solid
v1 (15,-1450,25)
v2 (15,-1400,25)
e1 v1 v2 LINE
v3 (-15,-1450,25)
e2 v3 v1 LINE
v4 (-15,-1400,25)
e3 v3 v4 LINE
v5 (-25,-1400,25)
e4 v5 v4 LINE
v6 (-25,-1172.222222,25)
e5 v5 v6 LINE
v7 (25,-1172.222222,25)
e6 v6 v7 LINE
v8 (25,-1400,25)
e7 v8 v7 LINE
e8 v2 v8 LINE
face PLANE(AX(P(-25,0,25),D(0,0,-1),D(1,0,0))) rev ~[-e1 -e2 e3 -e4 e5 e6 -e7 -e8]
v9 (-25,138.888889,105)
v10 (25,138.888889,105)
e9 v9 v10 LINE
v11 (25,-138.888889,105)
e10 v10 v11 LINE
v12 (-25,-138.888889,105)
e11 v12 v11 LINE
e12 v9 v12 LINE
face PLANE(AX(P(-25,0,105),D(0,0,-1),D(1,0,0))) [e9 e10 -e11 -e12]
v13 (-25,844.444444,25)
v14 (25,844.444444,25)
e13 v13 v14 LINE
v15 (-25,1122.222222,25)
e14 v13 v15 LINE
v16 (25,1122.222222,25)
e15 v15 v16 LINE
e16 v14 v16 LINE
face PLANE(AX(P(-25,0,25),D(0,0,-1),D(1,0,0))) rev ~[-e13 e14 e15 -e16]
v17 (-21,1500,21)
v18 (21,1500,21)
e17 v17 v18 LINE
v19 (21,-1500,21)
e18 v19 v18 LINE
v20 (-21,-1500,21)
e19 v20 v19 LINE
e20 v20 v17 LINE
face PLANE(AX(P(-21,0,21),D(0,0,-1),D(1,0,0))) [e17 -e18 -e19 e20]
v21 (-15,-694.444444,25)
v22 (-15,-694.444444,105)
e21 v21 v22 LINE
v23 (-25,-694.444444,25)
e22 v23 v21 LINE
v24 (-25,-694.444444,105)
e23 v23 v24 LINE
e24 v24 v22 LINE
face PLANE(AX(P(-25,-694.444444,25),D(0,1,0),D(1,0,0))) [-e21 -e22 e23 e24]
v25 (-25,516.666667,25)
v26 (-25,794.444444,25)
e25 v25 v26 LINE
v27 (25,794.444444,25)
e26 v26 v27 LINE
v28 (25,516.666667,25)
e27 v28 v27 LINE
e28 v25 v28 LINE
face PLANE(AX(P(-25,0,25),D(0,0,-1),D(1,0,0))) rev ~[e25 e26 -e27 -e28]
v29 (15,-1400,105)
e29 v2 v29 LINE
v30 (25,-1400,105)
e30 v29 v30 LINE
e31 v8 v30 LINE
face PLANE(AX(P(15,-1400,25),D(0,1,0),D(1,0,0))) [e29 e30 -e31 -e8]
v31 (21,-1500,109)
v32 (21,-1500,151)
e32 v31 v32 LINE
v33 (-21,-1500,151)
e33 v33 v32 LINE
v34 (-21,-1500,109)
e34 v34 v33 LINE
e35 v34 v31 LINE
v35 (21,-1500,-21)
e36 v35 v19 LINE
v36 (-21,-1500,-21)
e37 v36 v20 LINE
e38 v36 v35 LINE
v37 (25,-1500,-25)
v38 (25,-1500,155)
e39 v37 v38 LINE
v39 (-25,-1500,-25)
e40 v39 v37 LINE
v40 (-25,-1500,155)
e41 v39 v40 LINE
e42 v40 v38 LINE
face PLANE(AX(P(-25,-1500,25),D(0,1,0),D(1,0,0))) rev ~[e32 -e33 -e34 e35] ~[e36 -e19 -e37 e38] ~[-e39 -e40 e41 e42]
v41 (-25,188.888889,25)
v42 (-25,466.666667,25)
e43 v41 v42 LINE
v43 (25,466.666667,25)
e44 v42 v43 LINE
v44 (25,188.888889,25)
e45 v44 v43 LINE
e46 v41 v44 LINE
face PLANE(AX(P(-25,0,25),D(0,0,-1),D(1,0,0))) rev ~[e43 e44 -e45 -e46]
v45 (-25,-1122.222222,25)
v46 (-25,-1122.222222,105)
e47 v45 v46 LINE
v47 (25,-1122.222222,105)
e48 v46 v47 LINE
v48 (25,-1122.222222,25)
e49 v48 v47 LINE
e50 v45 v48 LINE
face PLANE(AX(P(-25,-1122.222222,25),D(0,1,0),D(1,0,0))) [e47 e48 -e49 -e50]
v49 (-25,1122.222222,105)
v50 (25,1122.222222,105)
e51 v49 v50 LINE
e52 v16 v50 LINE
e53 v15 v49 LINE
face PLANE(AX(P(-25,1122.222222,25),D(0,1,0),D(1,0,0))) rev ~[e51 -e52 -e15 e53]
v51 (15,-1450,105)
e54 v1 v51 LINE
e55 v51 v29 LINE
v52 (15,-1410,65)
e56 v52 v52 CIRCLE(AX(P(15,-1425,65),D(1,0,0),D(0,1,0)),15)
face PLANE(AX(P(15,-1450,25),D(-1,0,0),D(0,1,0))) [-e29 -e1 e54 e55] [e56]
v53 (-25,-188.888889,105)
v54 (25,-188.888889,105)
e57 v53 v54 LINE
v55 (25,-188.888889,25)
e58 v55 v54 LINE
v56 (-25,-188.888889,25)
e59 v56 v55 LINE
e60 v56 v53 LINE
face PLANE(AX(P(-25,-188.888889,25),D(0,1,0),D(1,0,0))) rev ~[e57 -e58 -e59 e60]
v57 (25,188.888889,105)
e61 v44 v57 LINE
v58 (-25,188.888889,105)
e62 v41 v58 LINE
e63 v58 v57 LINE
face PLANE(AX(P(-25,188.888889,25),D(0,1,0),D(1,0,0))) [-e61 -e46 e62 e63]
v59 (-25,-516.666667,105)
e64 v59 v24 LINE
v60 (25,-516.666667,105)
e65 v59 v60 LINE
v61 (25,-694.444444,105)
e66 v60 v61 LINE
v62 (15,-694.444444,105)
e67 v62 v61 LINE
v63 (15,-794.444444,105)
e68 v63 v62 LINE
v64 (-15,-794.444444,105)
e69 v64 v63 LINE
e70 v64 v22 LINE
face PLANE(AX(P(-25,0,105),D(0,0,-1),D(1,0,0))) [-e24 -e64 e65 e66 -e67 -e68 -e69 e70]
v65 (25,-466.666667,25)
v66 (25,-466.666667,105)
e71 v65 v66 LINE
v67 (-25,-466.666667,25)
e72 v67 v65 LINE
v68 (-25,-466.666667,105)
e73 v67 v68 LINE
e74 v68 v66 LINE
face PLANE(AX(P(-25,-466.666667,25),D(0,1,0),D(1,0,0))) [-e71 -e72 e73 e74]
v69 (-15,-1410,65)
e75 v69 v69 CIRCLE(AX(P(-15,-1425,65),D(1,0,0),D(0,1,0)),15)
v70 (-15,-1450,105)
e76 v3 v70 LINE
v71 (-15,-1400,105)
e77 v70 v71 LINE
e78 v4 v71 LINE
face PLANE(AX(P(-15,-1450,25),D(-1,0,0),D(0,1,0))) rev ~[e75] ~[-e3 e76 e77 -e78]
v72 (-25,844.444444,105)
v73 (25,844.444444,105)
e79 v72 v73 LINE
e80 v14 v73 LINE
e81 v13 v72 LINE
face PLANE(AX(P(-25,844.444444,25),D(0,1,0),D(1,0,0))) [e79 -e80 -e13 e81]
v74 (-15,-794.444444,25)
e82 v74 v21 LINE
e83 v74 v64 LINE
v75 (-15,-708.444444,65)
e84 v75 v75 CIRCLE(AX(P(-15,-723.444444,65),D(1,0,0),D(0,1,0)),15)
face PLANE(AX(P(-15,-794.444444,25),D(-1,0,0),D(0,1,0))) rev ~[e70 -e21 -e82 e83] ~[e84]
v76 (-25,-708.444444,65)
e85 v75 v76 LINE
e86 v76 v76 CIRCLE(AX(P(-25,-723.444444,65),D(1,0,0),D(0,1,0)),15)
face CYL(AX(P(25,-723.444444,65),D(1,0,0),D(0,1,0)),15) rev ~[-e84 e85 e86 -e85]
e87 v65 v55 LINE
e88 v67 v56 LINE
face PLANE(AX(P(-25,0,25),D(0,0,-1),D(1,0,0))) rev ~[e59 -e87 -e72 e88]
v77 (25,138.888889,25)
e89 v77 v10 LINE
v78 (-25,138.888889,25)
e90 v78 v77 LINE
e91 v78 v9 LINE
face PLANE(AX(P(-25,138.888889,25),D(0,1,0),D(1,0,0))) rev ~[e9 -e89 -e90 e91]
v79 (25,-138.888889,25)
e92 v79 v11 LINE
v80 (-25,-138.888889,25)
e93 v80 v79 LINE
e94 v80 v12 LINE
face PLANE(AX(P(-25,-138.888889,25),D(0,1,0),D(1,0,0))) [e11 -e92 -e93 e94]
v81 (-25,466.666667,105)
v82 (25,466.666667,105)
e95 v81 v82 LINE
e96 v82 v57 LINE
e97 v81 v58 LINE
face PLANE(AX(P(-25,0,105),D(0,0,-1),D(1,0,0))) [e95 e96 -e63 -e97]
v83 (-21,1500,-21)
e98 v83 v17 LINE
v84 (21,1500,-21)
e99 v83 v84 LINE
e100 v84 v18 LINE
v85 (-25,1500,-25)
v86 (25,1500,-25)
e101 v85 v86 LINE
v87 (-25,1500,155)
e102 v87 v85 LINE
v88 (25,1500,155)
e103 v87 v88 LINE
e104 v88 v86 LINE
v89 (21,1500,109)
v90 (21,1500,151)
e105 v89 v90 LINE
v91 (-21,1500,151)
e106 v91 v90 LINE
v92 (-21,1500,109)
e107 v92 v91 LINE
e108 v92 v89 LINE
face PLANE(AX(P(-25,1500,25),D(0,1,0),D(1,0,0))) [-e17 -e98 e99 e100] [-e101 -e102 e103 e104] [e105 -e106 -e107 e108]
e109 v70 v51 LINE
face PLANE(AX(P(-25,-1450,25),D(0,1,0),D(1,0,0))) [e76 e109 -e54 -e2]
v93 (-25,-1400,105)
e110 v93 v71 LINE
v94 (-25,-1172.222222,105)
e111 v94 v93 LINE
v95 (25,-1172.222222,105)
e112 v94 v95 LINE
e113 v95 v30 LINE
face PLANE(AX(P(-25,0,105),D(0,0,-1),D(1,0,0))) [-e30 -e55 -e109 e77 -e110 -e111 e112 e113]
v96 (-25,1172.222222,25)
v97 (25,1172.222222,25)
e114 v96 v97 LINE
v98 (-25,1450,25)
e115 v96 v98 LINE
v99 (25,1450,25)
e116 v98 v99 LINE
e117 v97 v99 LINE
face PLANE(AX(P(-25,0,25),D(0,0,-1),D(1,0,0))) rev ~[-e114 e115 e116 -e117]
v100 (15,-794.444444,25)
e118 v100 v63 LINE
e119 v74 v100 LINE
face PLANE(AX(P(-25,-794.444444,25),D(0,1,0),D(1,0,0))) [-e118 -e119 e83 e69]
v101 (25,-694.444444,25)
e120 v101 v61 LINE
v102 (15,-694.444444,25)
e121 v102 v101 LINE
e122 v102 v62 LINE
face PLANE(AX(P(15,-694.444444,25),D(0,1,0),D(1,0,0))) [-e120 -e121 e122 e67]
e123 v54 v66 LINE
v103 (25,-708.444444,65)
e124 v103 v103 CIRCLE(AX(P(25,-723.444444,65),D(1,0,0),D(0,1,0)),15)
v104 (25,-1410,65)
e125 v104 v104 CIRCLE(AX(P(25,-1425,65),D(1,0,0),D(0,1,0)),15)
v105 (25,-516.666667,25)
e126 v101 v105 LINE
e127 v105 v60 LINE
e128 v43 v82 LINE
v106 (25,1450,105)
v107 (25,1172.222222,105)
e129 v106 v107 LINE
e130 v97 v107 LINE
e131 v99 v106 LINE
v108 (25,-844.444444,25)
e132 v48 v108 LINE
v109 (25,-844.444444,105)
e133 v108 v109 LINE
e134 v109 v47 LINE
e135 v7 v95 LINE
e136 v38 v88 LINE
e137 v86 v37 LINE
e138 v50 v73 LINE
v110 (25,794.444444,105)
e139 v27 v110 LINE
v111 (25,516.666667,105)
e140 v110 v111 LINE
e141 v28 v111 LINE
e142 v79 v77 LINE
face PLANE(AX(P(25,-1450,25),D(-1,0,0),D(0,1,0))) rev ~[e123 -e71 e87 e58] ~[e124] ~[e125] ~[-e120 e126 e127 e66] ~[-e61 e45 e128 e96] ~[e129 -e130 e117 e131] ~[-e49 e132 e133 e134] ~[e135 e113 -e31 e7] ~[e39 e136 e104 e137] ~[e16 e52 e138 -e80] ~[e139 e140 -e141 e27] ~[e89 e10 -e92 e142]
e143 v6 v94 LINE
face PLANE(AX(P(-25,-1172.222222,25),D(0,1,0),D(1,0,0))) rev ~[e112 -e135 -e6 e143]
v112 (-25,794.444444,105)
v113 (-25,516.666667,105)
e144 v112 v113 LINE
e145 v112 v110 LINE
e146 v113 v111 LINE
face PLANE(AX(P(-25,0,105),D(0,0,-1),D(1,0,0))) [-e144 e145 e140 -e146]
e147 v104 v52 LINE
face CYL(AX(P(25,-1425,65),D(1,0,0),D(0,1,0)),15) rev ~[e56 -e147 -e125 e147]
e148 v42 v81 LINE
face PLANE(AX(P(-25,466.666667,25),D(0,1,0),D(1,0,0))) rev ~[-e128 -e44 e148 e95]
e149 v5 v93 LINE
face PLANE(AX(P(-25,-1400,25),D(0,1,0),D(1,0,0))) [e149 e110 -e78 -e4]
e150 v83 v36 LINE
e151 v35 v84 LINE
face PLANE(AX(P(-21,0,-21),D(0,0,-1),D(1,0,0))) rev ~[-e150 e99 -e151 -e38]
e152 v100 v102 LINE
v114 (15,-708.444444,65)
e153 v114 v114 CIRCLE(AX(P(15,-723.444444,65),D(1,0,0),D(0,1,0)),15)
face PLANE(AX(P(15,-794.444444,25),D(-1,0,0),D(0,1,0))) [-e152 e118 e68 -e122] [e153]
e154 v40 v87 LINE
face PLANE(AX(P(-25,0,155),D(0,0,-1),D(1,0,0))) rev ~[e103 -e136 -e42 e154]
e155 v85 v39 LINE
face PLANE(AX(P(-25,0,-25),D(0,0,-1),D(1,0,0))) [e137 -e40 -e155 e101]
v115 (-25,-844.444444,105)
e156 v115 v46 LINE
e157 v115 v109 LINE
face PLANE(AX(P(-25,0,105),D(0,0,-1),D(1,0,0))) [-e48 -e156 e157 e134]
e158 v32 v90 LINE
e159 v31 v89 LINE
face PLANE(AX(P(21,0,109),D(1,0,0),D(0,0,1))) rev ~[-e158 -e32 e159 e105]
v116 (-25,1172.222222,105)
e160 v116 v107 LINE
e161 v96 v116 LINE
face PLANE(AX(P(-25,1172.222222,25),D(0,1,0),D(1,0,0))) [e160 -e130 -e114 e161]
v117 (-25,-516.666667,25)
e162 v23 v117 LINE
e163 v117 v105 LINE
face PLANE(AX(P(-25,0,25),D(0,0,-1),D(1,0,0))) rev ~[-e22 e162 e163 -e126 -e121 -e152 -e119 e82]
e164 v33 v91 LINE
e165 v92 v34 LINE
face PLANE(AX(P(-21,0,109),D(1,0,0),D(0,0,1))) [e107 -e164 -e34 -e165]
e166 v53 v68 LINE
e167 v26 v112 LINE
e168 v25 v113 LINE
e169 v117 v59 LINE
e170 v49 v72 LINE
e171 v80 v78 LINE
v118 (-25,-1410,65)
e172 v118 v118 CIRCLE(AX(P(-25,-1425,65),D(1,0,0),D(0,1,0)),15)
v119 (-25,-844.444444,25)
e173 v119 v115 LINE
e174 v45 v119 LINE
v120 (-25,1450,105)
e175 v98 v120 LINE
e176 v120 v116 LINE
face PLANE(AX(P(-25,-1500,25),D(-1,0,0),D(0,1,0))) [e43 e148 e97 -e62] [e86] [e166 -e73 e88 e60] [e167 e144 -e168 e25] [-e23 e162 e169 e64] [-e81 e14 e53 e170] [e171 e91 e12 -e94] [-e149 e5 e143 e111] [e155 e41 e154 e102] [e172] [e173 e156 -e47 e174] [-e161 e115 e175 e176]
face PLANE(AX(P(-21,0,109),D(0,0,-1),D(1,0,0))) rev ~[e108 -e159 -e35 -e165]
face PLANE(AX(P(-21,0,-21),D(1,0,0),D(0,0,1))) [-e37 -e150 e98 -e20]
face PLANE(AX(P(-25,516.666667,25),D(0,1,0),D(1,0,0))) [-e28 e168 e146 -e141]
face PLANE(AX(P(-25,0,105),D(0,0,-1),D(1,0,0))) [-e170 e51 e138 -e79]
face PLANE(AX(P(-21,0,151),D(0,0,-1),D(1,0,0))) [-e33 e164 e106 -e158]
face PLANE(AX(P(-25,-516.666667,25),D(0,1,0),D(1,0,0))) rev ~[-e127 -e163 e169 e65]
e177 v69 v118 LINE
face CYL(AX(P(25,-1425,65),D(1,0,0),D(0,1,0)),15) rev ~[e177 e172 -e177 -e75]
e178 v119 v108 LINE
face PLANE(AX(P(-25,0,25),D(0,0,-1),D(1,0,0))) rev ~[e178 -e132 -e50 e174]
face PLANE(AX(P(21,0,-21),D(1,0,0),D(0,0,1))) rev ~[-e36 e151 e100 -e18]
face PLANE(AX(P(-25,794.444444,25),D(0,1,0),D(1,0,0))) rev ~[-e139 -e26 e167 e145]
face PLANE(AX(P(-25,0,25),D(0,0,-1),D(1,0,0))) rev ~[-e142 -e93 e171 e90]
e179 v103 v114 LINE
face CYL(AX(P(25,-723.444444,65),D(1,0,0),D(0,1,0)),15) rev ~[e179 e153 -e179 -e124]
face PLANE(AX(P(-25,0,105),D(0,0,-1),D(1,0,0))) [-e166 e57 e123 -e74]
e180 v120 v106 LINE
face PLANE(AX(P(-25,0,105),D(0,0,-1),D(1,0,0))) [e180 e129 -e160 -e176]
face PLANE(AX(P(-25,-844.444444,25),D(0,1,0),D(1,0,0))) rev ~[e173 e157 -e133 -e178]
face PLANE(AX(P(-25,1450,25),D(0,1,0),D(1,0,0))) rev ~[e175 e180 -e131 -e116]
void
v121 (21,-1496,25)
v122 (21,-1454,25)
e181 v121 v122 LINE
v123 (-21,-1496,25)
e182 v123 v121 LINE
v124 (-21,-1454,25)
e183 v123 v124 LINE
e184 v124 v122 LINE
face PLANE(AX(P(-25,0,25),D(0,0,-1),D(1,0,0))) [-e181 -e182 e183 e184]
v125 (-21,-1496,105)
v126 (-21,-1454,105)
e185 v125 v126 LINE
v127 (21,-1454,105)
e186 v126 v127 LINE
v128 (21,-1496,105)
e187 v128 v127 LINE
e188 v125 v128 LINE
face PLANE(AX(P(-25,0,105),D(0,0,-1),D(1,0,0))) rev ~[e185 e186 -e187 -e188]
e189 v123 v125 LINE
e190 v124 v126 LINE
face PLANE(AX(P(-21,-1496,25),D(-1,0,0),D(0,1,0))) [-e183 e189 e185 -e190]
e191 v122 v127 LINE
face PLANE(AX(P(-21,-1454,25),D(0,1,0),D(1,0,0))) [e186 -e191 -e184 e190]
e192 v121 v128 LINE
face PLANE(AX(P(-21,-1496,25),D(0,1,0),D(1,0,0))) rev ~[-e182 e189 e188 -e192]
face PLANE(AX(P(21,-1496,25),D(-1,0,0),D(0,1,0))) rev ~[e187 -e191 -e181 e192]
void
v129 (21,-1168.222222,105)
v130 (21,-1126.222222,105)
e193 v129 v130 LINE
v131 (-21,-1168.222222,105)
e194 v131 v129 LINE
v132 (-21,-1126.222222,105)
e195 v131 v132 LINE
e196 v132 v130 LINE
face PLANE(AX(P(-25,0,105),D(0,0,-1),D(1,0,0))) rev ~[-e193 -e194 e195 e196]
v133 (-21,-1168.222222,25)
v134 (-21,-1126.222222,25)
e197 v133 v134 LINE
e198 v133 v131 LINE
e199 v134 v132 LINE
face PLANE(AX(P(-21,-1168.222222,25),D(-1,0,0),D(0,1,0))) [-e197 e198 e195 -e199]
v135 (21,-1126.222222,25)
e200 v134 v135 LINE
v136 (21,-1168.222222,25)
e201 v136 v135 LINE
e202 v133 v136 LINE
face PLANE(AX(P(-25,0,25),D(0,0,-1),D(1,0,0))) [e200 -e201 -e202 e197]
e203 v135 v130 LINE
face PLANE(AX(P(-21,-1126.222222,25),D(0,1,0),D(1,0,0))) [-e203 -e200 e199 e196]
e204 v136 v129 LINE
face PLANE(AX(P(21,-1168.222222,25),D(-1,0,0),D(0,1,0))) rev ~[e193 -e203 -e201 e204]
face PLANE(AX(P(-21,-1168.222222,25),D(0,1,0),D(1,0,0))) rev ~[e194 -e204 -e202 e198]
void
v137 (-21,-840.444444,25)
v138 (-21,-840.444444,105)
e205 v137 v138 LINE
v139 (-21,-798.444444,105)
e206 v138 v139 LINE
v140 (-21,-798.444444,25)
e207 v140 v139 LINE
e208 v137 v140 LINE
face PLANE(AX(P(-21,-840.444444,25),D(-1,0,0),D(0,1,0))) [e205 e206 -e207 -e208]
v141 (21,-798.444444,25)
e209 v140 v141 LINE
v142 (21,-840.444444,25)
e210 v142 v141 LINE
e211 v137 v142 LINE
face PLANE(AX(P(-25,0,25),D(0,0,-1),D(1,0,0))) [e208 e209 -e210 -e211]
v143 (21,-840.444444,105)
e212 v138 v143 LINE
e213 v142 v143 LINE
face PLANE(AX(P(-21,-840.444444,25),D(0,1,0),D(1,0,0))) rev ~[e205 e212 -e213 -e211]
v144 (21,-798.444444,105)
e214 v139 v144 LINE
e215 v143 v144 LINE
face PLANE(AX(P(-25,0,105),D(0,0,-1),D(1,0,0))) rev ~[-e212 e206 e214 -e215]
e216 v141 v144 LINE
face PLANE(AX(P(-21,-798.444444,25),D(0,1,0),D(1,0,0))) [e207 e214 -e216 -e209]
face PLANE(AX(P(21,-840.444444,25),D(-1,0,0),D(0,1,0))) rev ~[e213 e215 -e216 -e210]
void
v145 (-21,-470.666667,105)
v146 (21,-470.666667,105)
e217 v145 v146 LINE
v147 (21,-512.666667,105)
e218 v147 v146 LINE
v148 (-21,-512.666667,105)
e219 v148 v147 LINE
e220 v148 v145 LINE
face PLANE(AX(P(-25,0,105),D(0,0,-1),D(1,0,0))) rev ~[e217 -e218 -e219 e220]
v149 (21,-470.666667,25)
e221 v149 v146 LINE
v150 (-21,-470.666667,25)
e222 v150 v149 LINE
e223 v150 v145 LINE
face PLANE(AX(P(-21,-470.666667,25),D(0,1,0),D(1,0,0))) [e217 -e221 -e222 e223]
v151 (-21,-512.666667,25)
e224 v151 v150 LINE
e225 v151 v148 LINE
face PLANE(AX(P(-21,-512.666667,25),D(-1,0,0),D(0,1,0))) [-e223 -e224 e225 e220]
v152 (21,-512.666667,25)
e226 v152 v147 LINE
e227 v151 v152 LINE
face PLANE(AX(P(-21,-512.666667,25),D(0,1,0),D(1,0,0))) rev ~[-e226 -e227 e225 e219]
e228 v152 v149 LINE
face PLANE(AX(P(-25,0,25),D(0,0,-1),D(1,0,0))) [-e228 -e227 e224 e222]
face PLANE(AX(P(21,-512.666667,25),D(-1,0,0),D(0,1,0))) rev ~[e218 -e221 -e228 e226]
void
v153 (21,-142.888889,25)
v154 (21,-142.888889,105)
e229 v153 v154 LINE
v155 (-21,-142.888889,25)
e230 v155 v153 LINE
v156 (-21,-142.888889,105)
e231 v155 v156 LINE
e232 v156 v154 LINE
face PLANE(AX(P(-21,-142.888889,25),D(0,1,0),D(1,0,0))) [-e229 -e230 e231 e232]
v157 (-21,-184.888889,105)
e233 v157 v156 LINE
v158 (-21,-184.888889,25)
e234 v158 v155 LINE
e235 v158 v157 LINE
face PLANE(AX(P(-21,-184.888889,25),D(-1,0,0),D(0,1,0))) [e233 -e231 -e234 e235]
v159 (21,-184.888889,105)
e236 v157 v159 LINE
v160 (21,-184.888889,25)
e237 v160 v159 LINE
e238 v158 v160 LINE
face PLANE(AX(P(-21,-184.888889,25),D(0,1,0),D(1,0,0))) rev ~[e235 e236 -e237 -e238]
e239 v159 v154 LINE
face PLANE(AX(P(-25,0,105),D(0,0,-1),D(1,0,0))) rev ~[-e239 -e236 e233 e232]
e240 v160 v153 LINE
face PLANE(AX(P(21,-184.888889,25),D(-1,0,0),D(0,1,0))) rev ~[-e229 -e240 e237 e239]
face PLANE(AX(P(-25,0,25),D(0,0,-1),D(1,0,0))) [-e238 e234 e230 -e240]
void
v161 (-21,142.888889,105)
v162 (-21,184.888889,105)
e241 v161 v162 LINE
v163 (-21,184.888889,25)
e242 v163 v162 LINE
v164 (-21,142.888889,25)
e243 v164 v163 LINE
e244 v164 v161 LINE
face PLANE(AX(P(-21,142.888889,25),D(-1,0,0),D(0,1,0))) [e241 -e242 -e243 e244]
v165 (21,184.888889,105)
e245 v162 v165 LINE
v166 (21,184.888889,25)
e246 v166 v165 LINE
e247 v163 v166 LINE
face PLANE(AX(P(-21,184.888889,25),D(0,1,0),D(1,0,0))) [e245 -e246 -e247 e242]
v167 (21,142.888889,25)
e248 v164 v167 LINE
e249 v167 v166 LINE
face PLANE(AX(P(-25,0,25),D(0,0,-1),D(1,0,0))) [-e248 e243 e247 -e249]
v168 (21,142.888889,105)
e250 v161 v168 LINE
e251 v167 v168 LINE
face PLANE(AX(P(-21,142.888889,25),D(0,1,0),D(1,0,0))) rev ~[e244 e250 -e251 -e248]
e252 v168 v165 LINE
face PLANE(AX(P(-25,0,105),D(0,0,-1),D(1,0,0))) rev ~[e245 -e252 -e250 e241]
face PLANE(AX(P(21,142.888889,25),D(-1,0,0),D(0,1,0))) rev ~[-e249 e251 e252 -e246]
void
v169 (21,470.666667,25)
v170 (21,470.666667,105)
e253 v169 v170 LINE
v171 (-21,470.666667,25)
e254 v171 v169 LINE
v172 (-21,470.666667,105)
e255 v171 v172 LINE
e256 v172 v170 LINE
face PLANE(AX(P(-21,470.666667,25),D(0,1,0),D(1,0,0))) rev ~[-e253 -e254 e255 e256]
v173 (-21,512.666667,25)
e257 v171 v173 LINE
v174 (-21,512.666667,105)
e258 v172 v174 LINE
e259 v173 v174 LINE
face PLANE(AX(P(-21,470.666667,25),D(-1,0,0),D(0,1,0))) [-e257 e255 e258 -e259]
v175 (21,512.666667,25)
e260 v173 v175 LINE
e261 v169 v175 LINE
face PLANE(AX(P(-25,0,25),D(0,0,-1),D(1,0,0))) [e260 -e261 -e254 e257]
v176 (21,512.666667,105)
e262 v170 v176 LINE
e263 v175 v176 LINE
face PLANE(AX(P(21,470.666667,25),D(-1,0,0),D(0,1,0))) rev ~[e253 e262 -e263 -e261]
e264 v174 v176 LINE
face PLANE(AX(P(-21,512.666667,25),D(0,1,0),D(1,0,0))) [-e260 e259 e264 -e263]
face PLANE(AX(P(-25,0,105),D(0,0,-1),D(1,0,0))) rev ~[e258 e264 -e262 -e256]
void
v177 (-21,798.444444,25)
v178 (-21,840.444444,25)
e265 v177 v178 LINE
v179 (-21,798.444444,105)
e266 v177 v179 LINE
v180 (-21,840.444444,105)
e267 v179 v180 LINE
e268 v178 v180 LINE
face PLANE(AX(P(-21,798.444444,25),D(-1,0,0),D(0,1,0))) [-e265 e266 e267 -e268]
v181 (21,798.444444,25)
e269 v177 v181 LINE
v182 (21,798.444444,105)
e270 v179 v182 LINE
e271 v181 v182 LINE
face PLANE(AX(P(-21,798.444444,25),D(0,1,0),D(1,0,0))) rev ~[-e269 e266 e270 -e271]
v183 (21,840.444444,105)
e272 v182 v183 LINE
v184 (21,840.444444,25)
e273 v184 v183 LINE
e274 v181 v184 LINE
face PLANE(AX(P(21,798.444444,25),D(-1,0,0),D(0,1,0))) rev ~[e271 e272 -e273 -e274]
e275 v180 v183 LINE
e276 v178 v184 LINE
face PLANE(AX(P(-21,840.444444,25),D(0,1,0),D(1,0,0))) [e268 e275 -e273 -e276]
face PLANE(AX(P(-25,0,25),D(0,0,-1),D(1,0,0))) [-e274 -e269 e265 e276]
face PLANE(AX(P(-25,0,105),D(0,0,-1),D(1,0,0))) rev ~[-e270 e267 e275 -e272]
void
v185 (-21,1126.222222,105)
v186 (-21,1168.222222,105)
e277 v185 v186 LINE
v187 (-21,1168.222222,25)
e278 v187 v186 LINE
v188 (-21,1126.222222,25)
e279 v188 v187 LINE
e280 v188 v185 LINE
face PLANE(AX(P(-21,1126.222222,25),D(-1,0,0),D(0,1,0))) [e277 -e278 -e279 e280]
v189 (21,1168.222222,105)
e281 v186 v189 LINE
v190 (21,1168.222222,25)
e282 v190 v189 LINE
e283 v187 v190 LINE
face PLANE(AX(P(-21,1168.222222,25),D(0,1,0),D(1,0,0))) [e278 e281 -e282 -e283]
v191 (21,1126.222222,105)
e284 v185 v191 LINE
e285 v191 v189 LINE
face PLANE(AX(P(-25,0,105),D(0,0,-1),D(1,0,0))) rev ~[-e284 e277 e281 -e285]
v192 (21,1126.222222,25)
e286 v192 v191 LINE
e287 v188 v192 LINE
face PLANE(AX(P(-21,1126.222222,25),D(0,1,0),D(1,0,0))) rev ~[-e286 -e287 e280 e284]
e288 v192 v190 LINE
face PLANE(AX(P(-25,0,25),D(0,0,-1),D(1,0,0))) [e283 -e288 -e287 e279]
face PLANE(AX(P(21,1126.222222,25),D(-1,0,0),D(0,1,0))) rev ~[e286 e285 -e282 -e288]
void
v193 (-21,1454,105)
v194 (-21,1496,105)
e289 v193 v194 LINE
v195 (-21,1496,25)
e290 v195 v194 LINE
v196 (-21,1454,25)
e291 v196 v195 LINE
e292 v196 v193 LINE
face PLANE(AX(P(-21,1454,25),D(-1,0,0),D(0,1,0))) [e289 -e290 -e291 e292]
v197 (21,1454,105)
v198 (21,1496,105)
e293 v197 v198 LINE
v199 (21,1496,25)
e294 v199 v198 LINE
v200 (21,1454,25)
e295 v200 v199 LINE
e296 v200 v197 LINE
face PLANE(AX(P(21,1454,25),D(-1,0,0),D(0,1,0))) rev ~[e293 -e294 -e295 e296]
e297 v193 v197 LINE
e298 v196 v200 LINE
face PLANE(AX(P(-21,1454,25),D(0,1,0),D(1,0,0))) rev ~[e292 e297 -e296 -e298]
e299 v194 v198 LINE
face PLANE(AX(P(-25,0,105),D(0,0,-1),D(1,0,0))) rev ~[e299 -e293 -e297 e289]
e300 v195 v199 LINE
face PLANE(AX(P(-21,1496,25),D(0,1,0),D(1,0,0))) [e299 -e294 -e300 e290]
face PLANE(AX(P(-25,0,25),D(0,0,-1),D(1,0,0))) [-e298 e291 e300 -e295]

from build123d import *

# Parameters (mm, degrees)
F0_W     = 50
F0_H     = 50
F0_W_2   = 42
F0_H_2   = 42
F1_DEPTH = 1500
F2_W     = 50
F2_H     = 50
F2_W_2   = 42
F2_H_2   = 42
F3_DEPTH = 80
F5_W     = 10
F5_H     = 50
F5_H_2   = 100
F6_DEPTH = 80
F7_R     = 15
F8_DEPTH = 50.001


with BuildPart() as f1:
    # F0 (on Front) → F1 (new body, symmetric)
    with BuildSketch(Plane.XZ):
        Rectangle(F0_W, F0_H)
        Rectangle(F0_W_2, F0_H_2, mode=Mode.SUBTRACT)
    extrude(amount=F1_DEPTH, both=True)


with BuildPart() as f1b:
    # F0 (on Front) → F1, piece 2 (new body, symmetric)
    with BuildSketch(Plane.XZ):
        with Locations((0, 130)):
            Rectangle(F0_W, F0_H)
        with Locations((0, 130)):
            Rectangle(F0_W_2, F0_H_2, mode=Mode.SUBTRACT)
    extrude(amount=F1_DEPTH, both=True)


with BuildPart() as f3:
    # F2 (on face) → F3 (new body, through all)
    with BuildSketch(Plane.XY.offset(25)):
        with Locations((0, 1475)):
            Rectangle(F2_W, F2_H)
        with Locations((0, 1475)):
            Rectangle(F2_W_2, F2_H_2, mode=Mode.SUBTRACT)
    extrude(amount=F3_DEPTH)


with BuildPart() as f3b:
    # F2 (on face) → F3, piece 2 (new body, through all)
    with BuildSketch(Plane.XY.offset(25)):
        with Locations((0, 1147.2222222222)):
            Rectangle(F2_W, F2_H)
        with Locations((0, 1147.2222222222)):
            Rectangle(F2_W_2, F2_H_2, mode=Mode.SUBTRACT)
    extrude(amount=F3_DEPTH)


with BuildPart() as f3c:
    # F2 (on face) → F3, piece 3 (new body, through all)
    with BuildSketch(Plane.XY.offset(25)):
        with Locations((0, 819.4444444444)):
            Rectangle(F2_W, F2_H)
        with Locations((0, 819.4444444444)):
            Rectangle(F2_W_2, F2_H_2, mode=Mode.SUBTRACT)
    extrude(amount=F3_DEPTH)


with BuildPart() as f3d:
    # F2 (on face) → F3, piece 4 (new body, through all)
    with BuildSketch(Plane.XY.offset(25)):
        with Locations((0, 491.6666666667)):
            Rectangle(F2_W, F2_H)
        with Locations((0, 491.6666666667)):
            Rectangle(F2_W_2, F2_H_2, mode=Mode.SUBTRACT)
    extrude(amount=F3_DEPTH)


with BuildPart() as f3e:
    # F2 (on face) → F3, piece 5 (new body, through all)
    with BuildSketch(Plane.XY.offset(25)):
        with Locations((0, 163.8888888889)):
            Rectangle(F2_W, F2_H)
        with Locations((0, 163.8888888889)):
            Rectangle(F2_W_2, F2_H_2, mode=Mode.SUBTRACT)
    extrude(amount=F3_DEPTH)


with BuildPart() as f3f:
    # F2 (on face) → F3, piece 6 (new body, through all)
    with BuildSketch(Plane.XY.offset(25)):
        with Locations((0, -163.8888888889)):
            Rectangle(F2_W, F2_H)
        with Locations((0, -163.8888888889)):
            Rectangle(F2_W_2, F2_H_2, mode=Mode.SUBTRACT)
    extrude(amount=F3_DEPTH)


with BuildPart() as f3g:
    # F2 (on face) → F3, piece 7 (new body, through all)
    with BuildSketch(Plane.XY.offset(25)):
        with Locations((0, -491.6666666667)):
            Rectangle(F2_W, F2_H)
        with Locations((0, -491.6666666667)):
            Rectangle(F2_W_2, F2_H_2, mode=Mode.SUBTRACT)
    extrude(amount=F3_DEPTH)


with BuildPart() as f3h:
    # F2 (on face) → F3, piece 8 (new body, through all)
    with BuildSketch(Plane.XY.offset(25)):
        with Locations((0, -819.4444444444)):
            Rectangle(F2_W, F2_H)
        with Locations((0, -819.4444444444)):
            Rectangle(F2_W_2, F2_H_2, mode=Mode.SUBTRACT)
    extrude(amount=F3_DEPTH)


with BuildPart() as f3i:
    # F2 (on face) → F3, piece 9 (new body, through all)
    with BuildSketch(Plane.XY.offset(25)):
        with Locations((0, -1147.2222222222)):
            Rectangle(F2_W, F2_H)
        with Locations((0, -1147.2222222222)):
            Rectangle(F2_W_2, F2_H_2, mode=Mode.SUBTRACT)
    extrude(amount=F3_DEPTH)


with BuildPart() as f3j:
    # F2 (on face) → F3, piece 10 (new body, through all)
    with BuildSketch(Plane.XY.offset(25)):
        with Locations((0, -1475)):
            Rectangle(F2_W, F2_H)
        with Locations((0, -1475)):
            Rectangle(F2_W_2, F2_H_2, mode=Mode.SUBTRACT)
    extrude(amount=F3_DEPTH)


with BuildPart() as f1_1:
    add(f1.part)

    # F4: union F1b, F3, F3b, F3c, F3d, F3e, F3f, F3g, F3h, F3i, F3j
    add(f1b.part)
    add(f3.part)
    add(f3b.part)
    add(f3c.part)
    add(f3d.part)
    add(f3e.part)
    add(f3f.part)
    add(f3g.part)
    add(f3h.part)
    add(f3i.part)
    add(f3j.part)

    # F5 (on face) → F6 (join, through all)
    with BuildSketch(Plane.XY.offset(25)):
        with Locations((20, -1425)):
            Rectangle(F5_W, F5_H)
        with Locations((20, -744.4444444444)):
            Rectangle(F5_W, F5_H_2)
        with Locations((-20, -1425)):
            Rectangle(F5_W, F5_H)
        with Locations((-20, -744.4444444444)):
            Rectangle(F5_W, F5_H_2)
    extrude(amount=F6_DEPTH)

    # F7 (on face) → F8 (cut, through all)
    with BuildSketch(Plane.YZ.offset(25)):
        with Locations((-723.4444444444, 65)):
            Circle(F7_R)
        with Locations((-1425, 65)):
            Circle(F7_R)
    extrude(amount=-F8_DEPTH, mode=Mode.SUBTRACT)


solid = f1_1.part
